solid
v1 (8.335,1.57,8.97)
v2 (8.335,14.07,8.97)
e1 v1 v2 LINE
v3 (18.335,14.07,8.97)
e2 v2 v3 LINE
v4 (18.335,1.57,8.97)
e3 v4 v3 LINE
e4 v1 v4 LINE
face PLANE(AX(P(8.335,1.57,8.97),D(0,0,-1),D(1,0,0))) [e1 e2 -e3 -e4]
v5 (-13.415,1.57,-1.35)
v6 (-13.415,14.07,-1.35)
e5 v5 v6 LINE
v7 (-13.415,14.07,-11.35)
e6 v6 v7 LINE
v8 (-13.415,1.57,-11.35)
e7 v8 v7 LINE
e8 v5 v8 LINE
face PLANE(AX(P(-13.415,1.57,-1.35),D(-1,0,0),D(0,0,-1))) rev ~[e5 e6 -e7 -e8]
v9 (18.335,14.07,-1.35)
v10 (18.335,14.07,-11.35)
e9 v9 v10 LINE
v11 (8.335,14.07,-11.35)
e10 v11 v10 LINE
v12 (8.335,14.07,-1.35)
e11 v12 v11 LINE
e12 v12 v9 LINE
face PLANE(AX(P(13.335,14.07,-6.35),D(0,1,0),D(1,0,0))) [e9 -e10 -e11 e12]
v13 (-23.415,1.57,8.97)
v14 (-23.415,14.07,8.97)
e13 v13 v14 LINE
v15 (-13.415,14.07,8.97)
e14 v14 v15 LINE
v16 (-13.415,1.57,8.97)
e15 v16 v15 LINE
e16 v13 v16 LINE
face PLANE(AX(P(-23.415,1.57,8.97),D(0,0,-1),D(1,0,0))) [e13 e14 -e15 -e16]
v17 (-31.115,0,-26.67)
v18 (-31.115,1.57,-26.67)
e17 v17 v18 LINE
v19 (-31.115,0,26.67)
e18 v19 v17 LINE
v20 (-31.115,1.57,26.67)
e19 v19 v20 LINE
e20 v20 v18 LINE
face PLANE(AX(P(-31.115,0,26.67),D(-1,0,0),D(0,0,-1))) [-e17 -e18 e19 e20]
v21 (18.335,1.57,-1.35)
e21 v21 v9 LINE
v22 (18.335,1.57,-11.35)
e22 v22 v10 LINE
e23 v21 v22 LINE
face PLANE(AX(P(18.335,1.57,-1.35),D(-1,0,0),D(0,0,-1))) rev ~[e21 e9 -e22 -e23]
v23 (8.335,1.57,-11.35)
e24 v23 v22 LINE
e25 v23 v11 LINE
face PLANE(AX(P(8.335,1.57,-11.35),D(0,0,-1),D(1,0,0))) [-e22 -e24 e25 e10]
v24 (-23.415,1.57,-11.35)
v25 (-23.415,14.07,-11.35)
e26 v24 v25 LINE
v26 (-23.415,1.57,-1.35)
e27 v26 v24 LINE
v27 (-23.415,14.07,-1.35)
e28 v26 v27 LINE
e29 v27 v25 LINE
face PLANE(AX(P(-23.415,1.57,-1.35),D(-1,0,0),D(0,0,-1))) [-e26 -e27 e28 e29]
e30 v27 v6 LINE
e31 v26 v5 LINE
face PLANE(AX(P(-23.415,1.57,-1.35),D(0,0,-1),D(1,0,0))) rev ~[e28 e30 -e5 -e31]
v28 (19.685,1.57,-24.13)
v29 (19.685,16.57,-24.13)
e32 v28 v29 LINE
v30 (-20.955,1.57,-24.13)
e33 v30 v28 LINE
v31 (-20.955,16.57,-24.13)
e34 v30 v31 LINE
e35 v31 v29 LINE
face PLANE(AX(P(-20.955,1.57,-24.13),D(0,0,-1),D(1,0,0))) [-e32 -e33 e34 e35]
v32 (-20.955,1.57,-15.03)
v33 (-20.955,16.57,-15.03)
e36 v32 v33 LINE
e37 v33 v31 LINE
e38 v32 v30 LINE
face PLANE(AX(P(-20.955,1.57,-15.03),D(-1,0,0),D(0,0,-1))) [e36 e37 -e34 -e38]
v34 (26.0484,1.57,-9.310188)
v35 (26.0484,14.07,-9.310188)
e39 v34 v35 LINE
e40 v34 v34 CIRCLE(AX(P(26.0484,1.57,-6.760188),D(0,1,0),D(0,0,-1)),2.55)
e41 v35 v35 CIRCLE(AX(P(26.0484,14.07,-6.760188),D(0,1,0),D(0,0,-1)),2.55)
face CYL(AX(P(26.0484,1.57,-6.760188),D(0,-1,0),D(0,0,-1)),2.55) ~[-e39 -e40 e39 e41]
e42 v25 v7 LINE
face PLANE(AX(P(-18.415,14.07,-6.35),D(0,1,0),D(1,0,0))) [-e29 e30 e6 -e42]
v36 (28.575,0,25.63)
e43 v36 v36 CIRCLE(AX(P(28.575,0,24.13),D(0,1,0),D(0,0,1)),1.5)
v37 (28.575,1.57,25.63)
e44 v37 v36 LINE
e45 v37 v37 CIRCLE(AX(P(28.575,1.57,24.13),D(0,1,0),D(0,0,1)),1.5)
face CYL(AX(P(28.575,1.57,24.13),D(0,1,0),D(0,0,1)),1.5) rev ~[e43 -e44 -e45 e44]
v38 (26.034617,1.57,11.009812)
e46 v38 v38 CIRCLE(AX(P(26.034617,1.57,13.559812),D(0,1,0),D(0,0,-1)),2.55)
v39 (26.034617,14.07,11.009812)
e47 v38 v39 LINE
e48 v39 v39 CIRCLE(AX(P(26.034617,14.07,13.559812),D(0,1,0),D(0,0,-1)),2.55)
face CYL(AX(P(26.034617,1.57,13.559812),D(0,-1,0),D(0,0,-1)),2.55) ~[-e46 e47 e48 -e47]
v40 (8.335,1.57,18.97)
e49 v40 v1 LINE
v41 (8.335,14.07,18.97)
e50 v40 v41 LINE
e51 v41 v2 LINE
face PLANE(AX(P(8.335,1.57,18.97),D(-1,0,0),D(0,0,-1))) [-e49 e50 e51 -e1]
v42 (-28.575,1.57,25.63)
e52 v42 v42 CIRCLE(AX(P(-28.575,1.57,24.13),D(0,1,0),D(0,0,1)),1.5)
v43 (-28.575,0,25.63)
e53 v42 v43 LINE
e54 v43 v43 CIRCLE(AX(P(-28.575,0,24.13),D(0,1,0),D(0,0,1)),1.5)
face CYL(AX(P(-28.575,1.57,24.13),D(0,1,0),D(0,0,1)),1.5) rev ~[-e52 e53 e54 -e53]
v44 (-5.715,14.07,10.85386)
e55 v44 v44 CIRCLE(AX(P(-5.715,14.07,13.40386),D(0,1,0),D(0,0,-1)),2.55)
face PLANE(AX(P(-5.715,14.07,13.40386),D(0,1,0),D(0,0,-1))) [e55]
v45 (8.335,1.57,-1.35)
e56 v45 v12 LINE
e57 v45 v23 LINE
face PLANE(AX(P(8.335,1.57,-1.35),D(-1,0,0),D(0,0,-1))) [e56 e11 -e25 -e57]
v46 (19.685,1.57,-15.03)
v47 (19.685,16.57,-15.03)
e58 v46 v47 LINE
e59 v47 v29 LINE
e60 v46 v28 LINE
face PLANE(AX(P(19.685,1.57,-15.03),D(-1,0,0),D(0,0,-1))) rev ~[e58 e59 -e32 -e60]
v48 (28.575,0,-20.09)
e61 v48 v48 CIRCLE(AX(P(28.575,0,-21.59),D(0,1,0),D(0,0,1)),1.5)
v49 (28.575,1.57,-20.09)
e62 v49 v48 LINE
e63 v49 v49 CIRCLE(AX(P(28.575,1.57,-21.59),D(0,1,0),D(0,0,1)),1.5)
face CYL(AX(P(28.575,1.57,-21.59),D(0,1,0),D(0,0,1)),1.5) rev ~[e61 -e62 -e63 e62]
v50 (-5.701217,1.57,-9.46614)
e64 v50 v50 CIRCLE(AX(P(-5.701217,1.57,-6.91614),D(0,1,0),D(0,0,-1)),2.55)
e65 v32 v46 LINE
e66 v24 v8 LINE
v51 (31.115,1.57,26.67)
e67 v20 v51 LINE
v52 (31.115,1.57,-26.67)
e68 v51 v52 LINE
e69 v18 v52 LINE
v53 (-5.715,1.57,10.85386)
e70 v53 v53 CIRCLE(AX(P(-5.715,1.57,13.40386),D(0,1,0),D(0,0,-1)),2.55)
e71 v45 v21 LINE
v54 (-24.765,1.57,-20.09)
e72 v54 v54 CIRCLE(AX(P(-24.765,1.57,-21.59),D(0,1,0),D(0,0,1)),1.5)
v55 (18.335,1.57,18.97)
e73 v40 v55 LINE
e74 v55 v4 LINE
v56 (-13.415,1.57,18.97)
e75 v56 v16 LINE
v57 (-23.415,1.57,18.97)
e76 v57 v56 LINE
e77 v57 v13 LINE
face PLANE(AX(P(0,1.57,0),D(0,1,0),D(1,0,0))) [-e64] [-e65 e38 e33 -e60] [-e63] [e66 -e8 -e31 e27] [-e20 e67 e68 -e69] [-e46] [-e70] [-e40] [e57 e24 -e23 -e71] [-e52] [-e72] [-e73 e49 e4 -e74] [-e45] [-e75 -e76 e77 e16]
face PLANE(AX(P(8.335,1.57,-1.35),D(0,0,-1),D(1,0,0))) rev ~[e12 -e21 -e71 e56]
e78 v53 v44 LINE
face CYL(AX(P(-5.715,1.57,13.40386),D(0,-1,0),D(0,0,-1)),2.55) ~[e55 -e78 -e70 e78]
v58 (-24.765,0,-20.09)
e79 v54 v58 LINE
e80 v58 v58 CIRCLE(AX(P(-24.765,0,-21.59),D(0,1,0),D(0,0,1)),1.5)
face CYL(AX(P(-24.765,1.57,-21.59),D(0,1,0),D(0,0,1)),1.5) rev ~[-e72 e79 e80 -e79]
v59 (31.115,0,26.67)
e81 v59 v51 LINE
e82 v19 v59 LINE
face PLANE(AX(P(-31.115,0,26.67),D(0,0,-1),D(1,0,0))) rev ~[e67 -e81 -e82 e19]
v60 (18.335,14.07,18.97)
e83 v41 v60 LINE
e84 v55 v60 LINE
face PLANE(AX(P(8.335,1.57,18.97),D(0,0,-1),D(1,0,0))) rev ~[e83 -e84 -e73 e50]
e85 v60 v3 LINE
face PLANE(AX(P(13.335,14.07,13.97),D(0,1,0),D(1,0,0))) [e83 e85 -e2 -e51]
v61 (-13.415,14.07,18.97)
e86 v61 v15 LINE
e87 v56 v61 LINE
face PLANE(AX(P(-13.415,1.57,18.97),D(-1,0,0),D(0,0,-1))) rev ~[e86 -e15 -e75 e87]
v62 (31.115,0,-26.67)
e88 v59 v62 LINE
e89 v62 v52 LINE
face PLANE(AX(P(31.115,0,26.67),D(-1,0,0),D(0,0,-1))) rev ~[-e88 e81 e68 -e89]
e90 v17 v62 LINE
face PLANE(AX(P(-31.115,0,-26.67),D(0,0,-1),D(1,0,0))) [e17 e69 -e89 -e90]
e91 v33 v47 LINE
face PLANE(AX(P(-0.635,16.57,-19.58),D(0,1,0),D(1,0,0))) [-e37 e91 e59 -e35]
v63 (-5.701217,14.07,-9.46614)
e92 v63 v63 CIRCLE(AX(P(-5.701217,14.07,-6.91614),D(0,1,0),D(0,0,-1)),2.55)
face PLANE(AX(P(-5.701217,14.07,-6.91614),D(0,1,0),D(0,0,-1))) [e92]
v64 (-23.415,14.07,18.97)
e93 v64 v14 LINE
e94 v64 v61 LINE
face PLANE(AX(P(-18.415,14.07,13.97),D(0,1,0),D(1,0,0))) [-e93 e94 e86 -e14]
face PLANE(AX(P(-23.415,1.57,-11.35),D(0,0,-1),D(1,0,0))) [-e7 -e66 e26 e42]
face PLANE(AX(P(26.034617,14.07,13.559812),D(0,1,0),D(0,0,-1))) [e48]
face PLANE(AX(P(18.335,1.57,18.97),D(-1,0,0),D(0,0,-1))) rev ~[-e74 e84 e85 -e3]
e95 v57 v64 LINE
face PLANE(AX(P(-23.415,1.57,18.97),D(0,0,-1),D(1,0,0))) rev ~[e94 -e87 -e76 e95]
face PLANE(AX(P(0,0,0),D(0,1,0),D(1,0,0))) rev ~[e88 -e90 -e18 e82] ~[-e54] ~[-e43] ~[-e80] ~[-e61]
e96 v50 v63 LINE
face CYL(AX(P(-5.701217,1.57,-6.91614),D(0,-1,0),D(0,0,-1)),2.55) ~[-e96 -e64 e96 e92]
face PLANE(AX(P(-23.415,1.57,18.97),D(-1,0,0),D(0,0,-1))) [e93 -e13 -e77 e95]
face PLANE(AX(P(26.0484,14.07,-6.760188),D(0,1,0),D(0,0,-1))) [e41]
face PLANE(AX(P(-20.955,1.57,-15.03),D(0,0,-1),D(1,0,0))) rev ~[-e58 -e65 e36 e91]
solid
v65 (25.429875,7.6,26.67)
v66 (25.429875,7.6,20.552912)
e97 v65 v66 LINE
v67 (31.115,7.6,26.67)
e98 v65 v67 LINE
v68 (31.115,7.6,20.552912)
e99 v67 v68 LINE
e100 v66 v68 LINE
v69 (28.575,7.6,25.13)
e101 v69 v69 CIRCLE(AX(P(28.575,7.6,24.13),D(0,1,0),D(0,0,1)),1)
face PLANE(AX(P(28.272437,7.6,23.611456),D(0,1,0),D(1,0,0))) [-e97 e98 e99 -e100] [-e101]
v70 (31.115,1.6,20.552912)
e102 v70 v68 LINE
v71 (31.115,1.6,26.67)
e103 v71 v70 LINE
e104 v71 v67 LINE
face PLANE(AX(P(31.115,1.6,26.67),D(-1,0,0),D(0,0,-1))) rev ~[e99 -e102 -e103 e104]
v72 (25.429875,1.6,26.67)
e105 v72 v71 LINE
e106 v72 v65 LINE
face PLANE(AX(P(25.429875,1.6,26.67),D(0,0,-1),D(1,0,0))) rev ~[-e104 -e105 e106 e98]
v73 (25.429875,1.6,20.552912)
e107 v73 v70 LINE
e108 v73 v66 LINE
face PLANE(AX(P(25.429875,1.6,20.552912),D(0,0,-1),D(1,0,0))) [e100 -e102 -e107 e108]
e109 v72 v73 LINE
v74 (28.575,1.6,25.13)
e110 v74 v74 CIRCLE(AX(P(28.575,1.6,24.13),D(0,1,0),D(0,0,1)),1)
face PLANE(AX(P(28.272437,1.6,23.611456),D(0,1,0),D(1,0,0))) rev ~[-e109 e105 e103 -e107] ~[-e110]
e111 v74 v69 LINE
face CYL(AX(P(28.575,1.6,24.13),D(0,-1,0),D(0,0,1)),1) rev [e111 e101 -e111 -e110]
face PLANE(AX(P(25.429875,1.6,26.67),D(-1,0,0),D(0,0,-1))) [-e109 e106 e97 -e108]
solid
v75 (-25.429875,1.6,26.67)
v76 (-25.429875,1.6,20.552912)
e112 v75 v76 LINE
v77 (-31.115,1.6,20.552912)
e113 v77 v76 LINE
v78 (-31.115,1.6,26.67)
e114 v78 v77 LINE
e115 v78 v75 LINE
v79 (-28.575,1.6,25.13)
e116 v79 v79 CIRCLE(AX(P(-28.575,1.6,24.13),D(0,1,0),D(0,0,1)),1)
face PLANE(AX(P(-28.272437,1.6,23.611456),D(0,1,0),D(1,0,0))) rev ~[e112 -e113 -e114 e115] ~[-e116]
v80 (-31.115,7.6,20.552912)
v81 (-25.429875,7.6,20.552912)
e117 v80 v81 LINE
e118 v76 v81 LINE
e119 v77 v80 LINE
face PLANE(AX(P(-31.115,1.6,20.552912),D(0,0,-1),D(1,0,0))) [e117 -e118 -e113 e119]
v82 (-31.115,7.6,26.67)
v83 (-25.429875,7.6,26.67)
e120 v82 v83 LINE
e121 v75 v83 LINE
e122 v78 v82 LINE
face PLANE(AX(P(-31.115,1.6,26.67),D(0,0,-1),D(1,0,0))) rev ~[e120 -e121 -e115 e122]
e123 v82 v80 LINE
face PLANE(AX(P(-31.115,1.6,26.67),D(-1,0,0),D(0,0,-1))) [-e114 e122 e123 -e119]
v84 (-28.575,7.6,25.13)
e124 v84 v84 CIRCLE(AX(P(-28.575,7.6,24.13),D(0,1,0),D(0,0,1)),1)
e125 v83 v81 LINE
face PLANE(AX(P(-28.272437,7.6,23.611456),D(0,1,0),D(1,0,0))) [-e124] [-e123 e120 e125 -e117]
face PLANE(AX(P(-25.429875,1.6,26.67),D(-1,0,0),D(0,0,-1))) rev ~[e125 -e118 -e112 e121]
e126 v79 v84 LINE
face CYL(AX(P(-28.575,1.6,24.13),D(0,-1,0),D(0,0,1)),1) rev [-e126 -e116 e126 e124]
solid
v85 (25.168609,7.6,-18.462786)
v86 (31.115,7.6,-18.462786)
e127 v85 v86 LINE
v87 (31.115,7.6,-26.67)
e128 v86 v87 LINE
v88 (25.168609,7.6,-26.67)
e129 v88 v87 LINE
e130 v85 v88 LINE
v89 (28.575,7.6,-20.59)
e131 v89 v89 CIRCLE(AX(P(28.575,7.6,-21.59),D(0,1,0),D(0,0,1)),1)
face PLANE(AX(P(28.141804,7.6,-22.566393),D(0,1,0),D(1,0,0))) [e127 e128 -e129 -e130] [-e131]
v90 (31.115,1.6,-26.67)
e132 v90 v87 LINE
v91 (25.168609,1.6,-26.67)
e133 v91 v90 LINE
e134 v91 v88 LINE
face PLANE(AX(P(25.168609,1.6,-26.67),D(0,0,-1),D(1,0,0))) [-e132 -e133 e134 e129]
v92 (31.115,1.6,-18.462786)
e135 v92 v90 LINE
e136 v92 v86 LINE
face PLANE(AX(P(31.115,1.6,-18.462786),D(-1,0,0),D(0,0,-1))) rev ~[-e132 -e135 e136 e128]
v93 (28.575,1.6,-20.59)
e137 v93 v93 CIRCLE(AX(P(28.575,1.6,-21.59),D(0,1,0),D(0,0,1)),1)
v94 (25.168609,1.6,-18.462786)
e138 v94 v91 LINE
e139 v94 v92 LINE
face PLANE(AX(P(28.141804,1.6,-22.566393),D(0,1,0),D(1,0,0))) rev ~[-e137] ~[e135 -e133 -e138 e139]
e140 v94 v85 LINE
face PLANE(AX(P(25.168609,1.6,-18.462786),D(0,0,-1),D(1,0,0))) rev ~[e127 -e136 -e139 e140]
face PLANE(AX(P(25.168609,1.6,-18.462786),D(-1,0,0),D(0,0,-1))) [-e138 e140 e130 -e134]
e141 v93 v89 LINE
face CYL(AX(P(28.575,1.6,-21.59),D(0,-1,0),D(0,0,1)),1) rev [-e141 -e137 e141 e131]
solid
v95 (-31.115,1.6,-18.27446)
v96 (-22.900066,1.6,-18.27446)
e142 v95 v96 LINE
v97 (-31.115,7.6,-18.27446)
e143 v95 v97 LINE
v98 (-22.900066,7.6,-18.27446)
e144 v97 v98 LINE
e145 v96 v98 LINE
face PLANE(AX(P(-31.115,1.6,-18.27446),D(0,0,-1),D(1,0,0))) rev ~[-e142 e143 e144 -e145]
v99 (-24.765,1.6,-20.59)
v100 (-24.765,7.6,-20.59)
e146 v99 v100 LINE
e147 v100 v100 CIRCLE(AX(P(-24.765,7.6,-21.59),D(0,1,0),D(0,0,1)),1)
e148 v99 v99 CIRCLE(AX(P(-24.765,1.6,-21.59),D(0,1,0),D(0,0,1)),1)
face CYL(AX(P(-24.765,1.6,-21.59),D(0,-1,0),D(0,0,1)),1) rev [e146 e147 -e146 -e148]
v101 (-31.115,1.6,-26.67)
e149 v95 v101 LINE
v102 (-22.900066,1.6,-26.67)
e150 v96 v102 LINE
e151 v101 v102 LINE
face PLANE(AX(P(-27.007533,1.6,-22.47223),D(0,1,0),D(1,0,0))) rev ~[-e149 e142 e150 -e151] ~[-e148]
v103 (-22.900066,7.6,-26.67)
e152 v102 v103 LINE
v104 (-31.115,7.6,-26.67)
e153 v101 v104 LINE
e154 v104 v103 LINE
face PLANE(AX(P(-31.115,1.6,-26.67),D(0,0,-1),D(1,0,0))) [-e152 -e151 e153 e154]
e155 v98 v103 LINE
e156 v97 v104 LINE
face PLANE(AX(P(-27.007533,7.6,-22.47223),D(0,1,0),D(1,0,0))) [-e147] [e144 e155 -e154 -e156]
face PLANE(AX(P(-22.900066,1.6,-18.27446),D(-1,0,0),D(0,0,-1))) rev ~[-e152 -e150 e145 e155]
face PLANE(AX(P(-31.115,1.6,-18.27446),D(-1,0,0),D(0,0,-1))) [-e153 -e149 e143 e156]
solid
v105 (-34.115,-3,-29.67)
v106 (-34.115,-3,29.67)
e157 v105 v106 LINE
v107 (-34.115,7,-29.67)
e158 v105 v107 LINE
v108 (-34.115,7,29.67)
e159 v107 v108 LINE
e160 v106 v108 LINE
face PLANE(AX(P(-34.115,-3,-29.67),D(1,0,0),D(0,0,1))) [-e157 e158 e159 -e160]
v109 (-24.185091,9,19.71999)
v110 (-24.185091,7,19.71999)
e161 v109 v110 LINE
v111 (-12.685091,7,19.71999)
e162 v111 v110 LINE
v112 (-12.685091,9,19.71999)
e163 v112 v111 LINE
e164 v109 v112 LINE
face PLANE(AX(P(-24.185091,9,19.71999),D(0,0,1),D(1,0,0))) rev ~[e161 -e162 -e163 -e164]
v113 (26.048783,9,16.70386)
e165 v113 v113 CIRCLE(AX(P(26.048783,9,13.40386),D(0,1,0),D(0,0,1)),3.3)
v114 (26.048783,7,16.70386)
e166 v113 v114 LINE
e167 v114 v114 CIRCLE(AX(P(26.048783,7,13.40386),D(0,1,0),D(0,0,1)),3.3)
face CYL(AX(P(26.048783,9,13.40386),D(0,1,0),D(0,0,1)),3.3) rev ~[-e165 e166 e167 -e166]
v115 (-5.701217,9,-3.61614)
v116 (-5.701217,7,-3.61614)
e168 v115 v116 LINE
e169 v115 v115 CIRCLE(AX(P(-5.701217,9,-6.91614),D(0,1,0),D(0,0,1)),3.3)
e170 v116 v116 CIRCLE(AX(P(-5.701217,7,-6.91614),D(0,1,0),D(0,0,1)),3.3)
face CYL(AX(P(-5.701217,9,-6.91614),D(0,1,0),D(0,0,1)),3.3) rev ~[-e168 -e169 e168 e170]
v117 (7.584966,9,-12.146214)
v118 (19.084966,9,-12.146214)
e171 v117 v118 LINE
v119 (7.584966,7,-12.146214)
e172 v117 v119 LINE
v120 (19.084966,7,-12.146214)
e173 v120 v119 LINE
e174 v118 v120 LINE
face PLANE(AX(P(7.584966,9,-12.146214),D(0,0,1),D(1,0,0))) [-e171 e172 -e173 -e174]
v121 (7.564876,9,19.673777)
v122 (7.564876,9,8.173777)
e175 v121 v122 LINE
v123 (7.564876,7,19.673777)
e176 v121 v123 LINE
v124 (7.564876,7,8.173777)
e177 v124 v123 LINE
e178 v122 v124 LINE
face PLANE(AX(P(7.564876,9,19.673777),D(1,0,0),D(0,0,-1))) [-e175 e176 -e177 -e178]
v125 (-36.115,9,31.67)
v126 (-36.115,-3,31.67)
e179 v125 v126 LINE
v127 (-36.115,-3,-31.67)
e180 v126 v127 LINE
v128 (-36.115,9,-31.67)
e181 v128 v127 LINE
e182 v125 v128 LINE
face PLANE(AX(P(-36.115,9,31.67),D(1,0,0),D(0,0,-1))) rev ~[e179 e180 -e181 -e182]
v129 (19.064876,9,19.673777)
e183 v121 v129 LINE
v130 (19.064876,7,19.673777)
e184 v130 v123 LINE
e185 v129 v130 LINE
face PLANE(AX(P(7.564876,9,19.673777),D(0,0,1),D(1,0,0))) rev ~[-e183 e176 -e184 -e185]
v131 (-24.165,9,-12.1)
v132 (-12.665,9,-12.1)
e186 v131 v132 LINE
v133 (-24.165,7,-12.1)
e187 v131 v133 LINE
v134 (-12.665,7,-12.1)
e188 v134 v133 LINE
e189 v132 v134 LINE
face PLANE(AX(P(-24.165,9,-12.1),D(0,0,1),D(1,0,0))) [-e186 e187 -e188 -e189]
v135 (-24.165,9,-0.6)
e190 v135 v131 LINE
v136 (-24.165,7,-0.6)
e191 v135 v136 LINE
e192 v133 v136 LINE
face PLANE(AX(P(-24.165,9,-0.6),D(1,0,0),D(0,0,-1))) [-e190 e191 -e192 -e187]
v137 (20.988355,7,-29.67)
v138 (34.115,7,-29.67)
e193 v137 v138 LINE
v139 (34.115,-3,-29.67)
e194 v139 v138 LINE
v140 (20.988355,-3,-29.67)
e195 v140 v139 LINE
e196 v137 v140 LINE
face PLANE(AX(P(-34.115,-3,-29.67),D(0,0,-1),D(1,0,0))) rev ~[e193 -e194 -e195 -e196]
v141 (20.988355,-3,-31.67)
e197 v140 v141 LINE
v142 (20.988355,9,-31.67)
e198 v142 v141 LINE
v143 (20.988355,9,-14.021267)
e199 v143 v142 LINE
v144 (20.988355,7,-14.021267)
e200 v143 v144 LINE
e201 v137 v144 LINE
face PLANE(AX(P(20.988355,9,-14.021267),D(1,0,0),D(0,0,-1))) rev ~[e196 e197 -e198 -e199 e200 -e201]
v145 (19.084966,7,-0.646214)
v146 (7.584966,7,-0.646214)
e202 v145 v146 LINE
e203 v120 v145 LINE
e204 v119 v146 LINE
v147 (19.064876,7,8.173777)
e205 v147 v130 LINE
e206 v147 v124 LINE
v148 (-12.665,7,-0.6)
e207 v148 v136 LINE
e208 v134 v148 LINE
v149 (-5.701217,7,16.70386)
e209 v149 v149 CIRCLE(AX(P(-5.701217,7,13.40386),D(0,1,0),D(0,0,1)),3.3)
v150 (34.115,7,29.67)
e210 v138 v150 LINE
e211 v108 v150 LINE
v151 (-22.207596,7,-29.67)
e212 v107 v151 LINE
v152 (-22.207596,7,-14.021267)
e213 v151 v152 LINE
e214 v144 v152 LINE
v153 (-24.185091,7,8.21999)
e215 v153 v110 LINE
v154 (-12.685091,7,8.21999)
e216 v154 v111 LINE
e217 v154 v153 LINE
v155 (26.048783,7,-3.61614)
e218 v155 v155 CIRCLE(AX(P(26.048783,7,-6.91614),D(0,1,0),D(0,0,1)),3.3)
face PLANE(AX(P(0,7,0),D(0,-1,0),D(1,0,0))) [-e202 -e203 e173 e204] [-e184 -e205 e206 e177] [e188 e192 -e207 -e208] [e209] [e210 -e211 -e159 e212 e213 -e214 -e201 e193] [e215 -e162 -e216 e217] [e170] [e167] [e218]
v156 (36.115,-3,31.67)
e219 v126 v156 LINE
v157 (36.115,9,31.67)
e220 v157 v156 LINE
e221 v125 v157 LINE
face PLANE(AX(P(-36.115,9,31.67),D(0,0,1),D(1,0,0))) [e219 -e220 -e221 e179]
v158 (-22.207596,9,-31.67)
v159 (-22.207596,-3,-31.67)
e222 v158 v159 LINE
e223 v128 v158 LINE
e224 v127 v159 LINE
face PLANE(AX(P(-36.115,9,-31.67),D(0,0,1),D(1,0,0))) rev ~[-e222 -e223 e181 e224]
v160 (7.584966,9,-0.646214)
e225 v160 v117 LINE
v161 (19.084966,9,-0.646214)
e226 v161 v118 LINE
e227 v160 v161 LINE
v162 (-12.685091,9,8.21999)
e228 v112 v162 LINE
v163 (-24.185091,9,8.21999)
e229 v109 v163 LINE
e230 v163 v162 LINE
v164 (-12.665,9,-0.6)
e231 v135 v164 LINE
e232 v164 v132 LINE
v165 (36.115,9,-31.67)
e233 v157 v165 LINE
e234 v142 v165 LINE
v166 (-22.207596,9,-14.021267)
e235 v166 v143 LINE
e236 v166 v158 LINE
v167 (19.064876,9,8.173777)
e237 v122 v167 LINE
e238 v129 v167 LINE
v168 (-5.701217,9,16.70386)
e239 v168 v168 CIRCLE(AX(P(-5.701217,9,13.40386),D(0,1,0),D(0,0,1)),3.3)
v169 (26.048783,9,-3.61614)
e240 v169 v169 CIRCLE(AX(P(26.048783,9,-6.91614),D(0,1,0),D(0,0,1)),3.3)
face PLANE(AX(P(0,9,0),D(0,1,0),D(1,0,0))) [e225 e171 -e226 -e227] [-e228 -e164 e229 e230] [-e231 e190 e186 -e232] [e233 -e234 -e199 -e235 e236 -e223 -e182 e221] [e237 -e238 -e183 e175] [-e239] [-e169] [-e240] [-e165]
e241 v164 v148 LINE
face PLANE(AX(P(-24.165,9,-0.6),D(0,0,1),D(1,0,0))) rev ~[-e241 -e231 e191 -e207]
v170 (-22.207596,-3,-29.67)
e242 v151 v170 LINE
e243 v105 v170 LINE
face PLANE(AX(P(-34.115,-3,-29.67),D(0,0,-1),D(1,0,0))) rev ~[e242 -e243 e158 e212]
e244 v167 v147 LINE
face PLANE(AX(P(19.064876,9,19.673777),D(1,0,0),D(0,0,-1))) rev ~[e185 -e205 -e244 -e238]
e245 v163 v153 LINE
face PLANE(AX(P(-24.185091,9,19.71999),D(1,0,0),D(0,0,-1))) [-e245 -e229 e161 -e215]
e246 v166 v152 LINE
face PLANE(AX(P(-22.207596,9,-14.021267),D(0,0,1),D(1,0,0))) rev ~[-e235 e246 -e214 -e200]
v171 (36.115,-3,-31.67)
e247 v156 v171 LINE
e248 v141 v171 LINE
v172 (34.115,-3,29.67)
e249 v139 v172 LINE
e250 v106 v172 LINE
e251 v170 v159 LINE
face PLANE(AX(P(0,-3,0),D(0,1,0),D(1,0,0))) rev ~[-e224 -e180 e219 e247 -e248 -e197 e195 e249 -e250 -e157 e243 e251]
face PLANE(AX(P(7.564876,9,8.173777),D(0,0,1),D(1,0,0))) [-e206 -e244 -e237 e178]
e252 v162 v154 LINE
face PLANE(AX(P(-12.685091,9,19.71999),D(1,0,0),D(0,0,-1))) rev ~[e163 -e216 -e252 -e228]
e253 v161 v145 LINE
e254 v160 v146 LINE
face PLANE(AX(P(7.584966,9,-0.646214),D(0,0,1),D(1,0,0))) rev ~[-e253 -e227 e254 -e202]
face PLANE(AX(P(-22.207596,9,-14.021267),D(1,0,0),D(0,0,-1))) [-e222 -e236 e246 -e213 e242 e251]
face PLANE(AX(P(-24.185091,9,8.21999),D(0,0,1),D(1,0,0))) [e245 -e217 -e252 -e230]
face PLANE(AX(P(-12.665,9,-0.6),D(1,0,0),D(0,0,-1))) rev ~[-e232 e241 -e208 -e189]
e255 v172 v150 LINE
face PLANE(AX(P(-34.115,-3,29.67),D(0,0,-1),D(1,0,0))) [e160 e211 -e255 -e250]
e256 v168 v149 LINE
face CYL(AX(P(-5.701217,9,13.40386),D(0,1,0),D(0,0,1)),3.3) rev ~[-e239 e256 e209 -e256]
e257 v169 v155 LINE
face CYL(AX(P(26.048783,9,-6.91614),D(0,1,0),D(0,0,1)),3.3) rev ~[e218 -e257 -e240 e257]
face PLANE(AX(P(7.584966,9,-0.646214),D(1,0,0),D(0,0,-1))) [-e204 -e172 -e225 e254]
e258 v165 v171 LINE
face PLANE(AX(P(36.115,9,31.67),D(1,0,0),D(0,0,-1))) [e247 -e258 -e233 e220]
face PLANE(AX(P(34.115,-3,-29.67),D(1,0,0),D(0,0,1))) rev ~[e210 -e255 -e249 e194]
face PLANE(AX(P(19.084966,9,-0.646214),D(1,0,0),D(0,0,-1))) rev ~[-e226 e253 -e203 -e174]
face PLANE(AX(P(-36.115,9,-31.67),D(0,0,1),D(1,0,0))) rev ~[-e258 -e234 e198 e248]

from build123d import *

# Parameters (mm, degrees)
SKETCH1_W             = 62.23
SKETCH1_H             = 53.34
BOSS_EXTRUDE1_DEPTH   = 1.57
SKETCH2_W             = 10
SKETCH2_H             = 10
BOSS_EXTRUDE2_DEPTH   = 12.5
SKETCH3_R             = 2.55
BOSS_EXTRUDE3_DEPTH   = 12.5
SKETCH4_W             = 40.64
SKETCH4_H             = 9.1
BOSS_EXTRUDE4_DEPTH   = 15
SKETCH5_R             = 1.5
CUT_EXTRUDE1_DEPTH    = 44.639799782
SKETCH6_W             = 72.23
SKETCH6_H             = 63.34
BOSS_EXTRUDE5_DEPTH   = 12
SKETCH7_W             = 68.23
SKETCH7_H             = 59.34
CUT_EXTRUDE2_DEPTH    = 10
SKETCH8_R             = 3.3
SKETCH8_W             = 43.19595156
SKETCH8_H             = 17.648733465
SKETCH8_W_2           = 11.5
SKETCH8_H_2           = 11.5
CUT_EXTRUDE3_DEPTH    = 50.510424407
SKETCH9_W             = 8.2149345
SKETCH9_H             = 8.395539661
SKETCH9_R             = 1
BOSS_EXTRUDE6_DEPTH   = 6
SKETCH9_W_2           = 5.685125291
SKETCH9_H_2           = 6.117087564
BOSS_EXTRUDE6_2_DEPTH = 6
BOSS_EXTRUDE6_3_DEPTH = 6
SKETCH9_W_3           = 5.946391127
SKETCH9_H_3           = 8.207214253
BOSS_EXTRUDE6_4_DEPTH = 6


with BuildPart() as part:
    # Sketch1 → Boss-Extrude1 (new body)
    with BuildSketch(Plane(origin=(0, 0, 0), x_dir=(1, 0, 0), z_dir=(0, 1, 0))):
        Rectangle(SKETCH1_W, SKETCH1_H)
    extrude(amount=BOSS_EXTRUDE1_DEPTH)

    # Sketch2 → Boss-Extrude2 (add)
    with BuildSketch(Plane(origin=(0, 1.57, 0), x_dir=(1, 0, 0), z_dir=(0, 1, 0))):
        with Locations((-18.415, -13.97)):
            Rectangle(SKETCH2_W, SKETCH2_H)
        with Locations((13.335, -13.97)):
            Rectangle(SKETCH2_W, SKETCH2_H)
        with Locations((13.335, 6.35)):
            Rectangle(SKETCH2_W, SKETCH2_H)
        with Locations((-18.415, 6.35)):
            Rectangle(SKETCH2_W, SKETCH2_H)
    extrude(amount=BOSS_EXTRUDE2_DEPTH)

    # Sketch3 → Boss-Extrude3 (add)
    with BuildSketch(Plane(origin=(0, 1.57, 0), x_dir=(1, 0, 0), z_dir=(0, 1, 0))):
        with Locations(Location((-5.715, -13.403860223, 0), (0, 0, 90))):
            Circle(SKETCH3_R)
        with Locations(Location((26.034616992, -13.559811685, 0), (0, 0, 90))):
            Circle(SKETCH3_R)
        with Locations(Location((26.04840041, 6.760188315, 0), (0, 0, 90))):
            Circle(SKETCH3_R)
        with Locations(Location((-5.701216582, 6.916139777, 0), (0, 0, 90))):
            Circle(SKETCH3_R)
    extrude(amount=BOSS_EXTRUDE3_DEPTH)

    # Sketch4 → Boss-Extrude4 (add)
    with BuildSketch(Plane(origin=(0, 1.57, 0), x_dir=(1, 0, 0), z_dir=(0, 1, 0))):
        with Locations((-0.635, 19.58)):
            Rectangle(SKETCH4_W, SKETCH4_H)
    extrude(amount=BOSS_EXTRUDE4_DEPTH)

    # Sketch5 → Cut-Extrude1 (cut, through all)
    with BuildSketch(Plane(origin=(0, 1.57, 0), x_dir=(1, 0, 0), z_dir=(0, 1, 0))):
        with Locations(Location((-24.765, 21.59, 0), (0, 0, 270))):
            Circle(SKETCH5_R)
        with Locations(Location((-28.575, -24.13, 0), (0, 0, 270))):
            Circle(SKETCH5_R)
        with Locations(Location((28.575, -24.13, 0), (0, 0, 270))):
            Circle(SKETCH5_R)
        with Locations(Location((28.575, 21.59, 0), (0, 0, 270))):
            Circle(SKETCH5_R)
    extrude(amount=-CUT_EXTRUDE1_DEPTH, mode=Mode.SUBTRACT)


with BuildPart() as body_2:
    # Sketch6 → Boss-Extrude5 (new body)
    with BuildSketch(Plane(origin=(0, 9, 0), x_dir=(1, 0, 0), z_dir=(0, 1, 0))):
        Rectangle(SKETCH6_W, SKETCH6_H)
    extrude(amount=-BOSS_EXTRUDE5_DEPTH)

    # Sketch7 → Cut-Extrude2 (cut)
    with BuildSketch(Plane.XZ.offset(3)):
        Rectangle(SKETCH7_W, SKETCH7_H)
    extrude(amount=-CUT_EXTRUDE2_DEPTH, mode=Mode.SUBTRACT)

    # Sketch8 → Cut-Extrude3 (cut, through all)
    with BuildSketch(Plane(origin=(0, 9, 0), x_dir=(1, 0, 0), z_dir=(0, 1, 0))):
        with Locations(Location((26.048783418, 6.916139777, 0), (0, 0, 270))):
            Circle(SKETCH8_R)
        with Locations(Location((26.048783418, -13.403860223, 0), (0, 0, 270))):
            Circle(SKETCH8_R)
        with Locations(Location((-5.701216582, 6.916139777, 0), (0, 0, 270))):
            Circle(SKETCH8_R)
        with Locations(Location((-5.701216582, -13.403860223, 0), (0, 0, 270))):
            Circle(SKETCH8_R)
        with Locations((-0.609620284, 22.845633268)):
            Rectangle(SKETCH8_W, SKETCH8_H)
        with Locations((13.334966367, 6.396213524)):
            Rectangle(SKETCH8_W_2, SKETCH8_H_2)
        with Locations((-18.415, 6.35)):
            Rectangle(SKETCH8_W_2, SKETCH8_H_2)
        with Locations((13.314875799, -13.923776544)):
            Rectangle(SKETCH8_W_2, SKETCH8_H_2)
        with Locations((-18.435090568, -13.969990068)):
            Rectangle(SKETCH8_W_2, SKETCH8_H_2)
    extrude(amount=-CUT_EXTRUDE3_DEPTH, mode=Mode.SUBTRACT)


with BuildPart() as body_3:
    # Sketch9 → Boss-Extrude6 (new body)
    with BuildSketch(Plane(origin=(0, 1.6, 0), x_dir=(1, 0, 0), z_dir=(0, 1, 0))):
        with Locations((-27.00753275, 22.47223017)):
            Rectangle(SKETCH9_W, SKETCH9_H)
        with Locations(Location((-24.765, 21.59, 0), (0, 0, 270))):
            Circle(SKETCH9_R, mode=Mode.SUBTRACT)
    extrude(amount=BOSS_EXTRUDE6_DEPTH)


with BuildPart() as body_4:
    # Sketch9 → Boss-Extrude6 2 (new body)
    with BuildSketch(Plane(origin=(0, 1.6, 0), x_dir=(1, 0, 0), z_dir=(0, 1, 0))):
        with Locations((-28.272437354, -23.611456218)):
            Rectangle(SKETCH9_W_2, SKETCH9_H_2)
        with Locations(Location((-28.575, -24.13, 0), (0, 0, 270))):
            Circle(SKETCH9_R, mode=Mode.SUBTRACT)
    extrude(amount=BOSS_EXTRUDE6_2_DEPTH)


with BuildPart() as body_5:
    # Sketch9 → Boss-Extrude6 3 (new body)
    with BuildSketch(Plane(origin=(0, 1.6, 0), x_dir=(1, 0, 0), z_dir=(0, 1, 0))):
        with Locations((28.272437354, -23.611456218)):
            Rectangle(SKETCH9_W_2, SKETCH9_H_2)
        with Locations(Location((28.575, -24.13, 0), (0, 0, 270))):
            Circle(SKETCH9_R, mode=Mode.SUBTRACT)
    extrude(amount=BOSS_EXTRUDE6_3_DEPTH)


with BuildPart() as body_6:
    # Sketch9 → Boss-Extrude6 4 (new body)
    with BuildSketch(Plane(origin=(0, 1.6, 0), x_dir=(1, 0, 0), z_dir=(0, 1, 0))):
        with Locations((28.141804437, 22.566392873)):
            Rectangle(SKETCH9_W_3, SKETCH9_H_3)
        with Locations(Location((28.575, 21.59, 0), (0, 0, 270))):
            Circle(SKETCH9_R, mode=Mode.SUBTRACT)
    extrude(amount=BOSS_EXTRUDE6_4_DEPTH)


solid = Compound([part.part, body_2.part, body_3.part, body_4.part, body_5.part, body_6.part])
